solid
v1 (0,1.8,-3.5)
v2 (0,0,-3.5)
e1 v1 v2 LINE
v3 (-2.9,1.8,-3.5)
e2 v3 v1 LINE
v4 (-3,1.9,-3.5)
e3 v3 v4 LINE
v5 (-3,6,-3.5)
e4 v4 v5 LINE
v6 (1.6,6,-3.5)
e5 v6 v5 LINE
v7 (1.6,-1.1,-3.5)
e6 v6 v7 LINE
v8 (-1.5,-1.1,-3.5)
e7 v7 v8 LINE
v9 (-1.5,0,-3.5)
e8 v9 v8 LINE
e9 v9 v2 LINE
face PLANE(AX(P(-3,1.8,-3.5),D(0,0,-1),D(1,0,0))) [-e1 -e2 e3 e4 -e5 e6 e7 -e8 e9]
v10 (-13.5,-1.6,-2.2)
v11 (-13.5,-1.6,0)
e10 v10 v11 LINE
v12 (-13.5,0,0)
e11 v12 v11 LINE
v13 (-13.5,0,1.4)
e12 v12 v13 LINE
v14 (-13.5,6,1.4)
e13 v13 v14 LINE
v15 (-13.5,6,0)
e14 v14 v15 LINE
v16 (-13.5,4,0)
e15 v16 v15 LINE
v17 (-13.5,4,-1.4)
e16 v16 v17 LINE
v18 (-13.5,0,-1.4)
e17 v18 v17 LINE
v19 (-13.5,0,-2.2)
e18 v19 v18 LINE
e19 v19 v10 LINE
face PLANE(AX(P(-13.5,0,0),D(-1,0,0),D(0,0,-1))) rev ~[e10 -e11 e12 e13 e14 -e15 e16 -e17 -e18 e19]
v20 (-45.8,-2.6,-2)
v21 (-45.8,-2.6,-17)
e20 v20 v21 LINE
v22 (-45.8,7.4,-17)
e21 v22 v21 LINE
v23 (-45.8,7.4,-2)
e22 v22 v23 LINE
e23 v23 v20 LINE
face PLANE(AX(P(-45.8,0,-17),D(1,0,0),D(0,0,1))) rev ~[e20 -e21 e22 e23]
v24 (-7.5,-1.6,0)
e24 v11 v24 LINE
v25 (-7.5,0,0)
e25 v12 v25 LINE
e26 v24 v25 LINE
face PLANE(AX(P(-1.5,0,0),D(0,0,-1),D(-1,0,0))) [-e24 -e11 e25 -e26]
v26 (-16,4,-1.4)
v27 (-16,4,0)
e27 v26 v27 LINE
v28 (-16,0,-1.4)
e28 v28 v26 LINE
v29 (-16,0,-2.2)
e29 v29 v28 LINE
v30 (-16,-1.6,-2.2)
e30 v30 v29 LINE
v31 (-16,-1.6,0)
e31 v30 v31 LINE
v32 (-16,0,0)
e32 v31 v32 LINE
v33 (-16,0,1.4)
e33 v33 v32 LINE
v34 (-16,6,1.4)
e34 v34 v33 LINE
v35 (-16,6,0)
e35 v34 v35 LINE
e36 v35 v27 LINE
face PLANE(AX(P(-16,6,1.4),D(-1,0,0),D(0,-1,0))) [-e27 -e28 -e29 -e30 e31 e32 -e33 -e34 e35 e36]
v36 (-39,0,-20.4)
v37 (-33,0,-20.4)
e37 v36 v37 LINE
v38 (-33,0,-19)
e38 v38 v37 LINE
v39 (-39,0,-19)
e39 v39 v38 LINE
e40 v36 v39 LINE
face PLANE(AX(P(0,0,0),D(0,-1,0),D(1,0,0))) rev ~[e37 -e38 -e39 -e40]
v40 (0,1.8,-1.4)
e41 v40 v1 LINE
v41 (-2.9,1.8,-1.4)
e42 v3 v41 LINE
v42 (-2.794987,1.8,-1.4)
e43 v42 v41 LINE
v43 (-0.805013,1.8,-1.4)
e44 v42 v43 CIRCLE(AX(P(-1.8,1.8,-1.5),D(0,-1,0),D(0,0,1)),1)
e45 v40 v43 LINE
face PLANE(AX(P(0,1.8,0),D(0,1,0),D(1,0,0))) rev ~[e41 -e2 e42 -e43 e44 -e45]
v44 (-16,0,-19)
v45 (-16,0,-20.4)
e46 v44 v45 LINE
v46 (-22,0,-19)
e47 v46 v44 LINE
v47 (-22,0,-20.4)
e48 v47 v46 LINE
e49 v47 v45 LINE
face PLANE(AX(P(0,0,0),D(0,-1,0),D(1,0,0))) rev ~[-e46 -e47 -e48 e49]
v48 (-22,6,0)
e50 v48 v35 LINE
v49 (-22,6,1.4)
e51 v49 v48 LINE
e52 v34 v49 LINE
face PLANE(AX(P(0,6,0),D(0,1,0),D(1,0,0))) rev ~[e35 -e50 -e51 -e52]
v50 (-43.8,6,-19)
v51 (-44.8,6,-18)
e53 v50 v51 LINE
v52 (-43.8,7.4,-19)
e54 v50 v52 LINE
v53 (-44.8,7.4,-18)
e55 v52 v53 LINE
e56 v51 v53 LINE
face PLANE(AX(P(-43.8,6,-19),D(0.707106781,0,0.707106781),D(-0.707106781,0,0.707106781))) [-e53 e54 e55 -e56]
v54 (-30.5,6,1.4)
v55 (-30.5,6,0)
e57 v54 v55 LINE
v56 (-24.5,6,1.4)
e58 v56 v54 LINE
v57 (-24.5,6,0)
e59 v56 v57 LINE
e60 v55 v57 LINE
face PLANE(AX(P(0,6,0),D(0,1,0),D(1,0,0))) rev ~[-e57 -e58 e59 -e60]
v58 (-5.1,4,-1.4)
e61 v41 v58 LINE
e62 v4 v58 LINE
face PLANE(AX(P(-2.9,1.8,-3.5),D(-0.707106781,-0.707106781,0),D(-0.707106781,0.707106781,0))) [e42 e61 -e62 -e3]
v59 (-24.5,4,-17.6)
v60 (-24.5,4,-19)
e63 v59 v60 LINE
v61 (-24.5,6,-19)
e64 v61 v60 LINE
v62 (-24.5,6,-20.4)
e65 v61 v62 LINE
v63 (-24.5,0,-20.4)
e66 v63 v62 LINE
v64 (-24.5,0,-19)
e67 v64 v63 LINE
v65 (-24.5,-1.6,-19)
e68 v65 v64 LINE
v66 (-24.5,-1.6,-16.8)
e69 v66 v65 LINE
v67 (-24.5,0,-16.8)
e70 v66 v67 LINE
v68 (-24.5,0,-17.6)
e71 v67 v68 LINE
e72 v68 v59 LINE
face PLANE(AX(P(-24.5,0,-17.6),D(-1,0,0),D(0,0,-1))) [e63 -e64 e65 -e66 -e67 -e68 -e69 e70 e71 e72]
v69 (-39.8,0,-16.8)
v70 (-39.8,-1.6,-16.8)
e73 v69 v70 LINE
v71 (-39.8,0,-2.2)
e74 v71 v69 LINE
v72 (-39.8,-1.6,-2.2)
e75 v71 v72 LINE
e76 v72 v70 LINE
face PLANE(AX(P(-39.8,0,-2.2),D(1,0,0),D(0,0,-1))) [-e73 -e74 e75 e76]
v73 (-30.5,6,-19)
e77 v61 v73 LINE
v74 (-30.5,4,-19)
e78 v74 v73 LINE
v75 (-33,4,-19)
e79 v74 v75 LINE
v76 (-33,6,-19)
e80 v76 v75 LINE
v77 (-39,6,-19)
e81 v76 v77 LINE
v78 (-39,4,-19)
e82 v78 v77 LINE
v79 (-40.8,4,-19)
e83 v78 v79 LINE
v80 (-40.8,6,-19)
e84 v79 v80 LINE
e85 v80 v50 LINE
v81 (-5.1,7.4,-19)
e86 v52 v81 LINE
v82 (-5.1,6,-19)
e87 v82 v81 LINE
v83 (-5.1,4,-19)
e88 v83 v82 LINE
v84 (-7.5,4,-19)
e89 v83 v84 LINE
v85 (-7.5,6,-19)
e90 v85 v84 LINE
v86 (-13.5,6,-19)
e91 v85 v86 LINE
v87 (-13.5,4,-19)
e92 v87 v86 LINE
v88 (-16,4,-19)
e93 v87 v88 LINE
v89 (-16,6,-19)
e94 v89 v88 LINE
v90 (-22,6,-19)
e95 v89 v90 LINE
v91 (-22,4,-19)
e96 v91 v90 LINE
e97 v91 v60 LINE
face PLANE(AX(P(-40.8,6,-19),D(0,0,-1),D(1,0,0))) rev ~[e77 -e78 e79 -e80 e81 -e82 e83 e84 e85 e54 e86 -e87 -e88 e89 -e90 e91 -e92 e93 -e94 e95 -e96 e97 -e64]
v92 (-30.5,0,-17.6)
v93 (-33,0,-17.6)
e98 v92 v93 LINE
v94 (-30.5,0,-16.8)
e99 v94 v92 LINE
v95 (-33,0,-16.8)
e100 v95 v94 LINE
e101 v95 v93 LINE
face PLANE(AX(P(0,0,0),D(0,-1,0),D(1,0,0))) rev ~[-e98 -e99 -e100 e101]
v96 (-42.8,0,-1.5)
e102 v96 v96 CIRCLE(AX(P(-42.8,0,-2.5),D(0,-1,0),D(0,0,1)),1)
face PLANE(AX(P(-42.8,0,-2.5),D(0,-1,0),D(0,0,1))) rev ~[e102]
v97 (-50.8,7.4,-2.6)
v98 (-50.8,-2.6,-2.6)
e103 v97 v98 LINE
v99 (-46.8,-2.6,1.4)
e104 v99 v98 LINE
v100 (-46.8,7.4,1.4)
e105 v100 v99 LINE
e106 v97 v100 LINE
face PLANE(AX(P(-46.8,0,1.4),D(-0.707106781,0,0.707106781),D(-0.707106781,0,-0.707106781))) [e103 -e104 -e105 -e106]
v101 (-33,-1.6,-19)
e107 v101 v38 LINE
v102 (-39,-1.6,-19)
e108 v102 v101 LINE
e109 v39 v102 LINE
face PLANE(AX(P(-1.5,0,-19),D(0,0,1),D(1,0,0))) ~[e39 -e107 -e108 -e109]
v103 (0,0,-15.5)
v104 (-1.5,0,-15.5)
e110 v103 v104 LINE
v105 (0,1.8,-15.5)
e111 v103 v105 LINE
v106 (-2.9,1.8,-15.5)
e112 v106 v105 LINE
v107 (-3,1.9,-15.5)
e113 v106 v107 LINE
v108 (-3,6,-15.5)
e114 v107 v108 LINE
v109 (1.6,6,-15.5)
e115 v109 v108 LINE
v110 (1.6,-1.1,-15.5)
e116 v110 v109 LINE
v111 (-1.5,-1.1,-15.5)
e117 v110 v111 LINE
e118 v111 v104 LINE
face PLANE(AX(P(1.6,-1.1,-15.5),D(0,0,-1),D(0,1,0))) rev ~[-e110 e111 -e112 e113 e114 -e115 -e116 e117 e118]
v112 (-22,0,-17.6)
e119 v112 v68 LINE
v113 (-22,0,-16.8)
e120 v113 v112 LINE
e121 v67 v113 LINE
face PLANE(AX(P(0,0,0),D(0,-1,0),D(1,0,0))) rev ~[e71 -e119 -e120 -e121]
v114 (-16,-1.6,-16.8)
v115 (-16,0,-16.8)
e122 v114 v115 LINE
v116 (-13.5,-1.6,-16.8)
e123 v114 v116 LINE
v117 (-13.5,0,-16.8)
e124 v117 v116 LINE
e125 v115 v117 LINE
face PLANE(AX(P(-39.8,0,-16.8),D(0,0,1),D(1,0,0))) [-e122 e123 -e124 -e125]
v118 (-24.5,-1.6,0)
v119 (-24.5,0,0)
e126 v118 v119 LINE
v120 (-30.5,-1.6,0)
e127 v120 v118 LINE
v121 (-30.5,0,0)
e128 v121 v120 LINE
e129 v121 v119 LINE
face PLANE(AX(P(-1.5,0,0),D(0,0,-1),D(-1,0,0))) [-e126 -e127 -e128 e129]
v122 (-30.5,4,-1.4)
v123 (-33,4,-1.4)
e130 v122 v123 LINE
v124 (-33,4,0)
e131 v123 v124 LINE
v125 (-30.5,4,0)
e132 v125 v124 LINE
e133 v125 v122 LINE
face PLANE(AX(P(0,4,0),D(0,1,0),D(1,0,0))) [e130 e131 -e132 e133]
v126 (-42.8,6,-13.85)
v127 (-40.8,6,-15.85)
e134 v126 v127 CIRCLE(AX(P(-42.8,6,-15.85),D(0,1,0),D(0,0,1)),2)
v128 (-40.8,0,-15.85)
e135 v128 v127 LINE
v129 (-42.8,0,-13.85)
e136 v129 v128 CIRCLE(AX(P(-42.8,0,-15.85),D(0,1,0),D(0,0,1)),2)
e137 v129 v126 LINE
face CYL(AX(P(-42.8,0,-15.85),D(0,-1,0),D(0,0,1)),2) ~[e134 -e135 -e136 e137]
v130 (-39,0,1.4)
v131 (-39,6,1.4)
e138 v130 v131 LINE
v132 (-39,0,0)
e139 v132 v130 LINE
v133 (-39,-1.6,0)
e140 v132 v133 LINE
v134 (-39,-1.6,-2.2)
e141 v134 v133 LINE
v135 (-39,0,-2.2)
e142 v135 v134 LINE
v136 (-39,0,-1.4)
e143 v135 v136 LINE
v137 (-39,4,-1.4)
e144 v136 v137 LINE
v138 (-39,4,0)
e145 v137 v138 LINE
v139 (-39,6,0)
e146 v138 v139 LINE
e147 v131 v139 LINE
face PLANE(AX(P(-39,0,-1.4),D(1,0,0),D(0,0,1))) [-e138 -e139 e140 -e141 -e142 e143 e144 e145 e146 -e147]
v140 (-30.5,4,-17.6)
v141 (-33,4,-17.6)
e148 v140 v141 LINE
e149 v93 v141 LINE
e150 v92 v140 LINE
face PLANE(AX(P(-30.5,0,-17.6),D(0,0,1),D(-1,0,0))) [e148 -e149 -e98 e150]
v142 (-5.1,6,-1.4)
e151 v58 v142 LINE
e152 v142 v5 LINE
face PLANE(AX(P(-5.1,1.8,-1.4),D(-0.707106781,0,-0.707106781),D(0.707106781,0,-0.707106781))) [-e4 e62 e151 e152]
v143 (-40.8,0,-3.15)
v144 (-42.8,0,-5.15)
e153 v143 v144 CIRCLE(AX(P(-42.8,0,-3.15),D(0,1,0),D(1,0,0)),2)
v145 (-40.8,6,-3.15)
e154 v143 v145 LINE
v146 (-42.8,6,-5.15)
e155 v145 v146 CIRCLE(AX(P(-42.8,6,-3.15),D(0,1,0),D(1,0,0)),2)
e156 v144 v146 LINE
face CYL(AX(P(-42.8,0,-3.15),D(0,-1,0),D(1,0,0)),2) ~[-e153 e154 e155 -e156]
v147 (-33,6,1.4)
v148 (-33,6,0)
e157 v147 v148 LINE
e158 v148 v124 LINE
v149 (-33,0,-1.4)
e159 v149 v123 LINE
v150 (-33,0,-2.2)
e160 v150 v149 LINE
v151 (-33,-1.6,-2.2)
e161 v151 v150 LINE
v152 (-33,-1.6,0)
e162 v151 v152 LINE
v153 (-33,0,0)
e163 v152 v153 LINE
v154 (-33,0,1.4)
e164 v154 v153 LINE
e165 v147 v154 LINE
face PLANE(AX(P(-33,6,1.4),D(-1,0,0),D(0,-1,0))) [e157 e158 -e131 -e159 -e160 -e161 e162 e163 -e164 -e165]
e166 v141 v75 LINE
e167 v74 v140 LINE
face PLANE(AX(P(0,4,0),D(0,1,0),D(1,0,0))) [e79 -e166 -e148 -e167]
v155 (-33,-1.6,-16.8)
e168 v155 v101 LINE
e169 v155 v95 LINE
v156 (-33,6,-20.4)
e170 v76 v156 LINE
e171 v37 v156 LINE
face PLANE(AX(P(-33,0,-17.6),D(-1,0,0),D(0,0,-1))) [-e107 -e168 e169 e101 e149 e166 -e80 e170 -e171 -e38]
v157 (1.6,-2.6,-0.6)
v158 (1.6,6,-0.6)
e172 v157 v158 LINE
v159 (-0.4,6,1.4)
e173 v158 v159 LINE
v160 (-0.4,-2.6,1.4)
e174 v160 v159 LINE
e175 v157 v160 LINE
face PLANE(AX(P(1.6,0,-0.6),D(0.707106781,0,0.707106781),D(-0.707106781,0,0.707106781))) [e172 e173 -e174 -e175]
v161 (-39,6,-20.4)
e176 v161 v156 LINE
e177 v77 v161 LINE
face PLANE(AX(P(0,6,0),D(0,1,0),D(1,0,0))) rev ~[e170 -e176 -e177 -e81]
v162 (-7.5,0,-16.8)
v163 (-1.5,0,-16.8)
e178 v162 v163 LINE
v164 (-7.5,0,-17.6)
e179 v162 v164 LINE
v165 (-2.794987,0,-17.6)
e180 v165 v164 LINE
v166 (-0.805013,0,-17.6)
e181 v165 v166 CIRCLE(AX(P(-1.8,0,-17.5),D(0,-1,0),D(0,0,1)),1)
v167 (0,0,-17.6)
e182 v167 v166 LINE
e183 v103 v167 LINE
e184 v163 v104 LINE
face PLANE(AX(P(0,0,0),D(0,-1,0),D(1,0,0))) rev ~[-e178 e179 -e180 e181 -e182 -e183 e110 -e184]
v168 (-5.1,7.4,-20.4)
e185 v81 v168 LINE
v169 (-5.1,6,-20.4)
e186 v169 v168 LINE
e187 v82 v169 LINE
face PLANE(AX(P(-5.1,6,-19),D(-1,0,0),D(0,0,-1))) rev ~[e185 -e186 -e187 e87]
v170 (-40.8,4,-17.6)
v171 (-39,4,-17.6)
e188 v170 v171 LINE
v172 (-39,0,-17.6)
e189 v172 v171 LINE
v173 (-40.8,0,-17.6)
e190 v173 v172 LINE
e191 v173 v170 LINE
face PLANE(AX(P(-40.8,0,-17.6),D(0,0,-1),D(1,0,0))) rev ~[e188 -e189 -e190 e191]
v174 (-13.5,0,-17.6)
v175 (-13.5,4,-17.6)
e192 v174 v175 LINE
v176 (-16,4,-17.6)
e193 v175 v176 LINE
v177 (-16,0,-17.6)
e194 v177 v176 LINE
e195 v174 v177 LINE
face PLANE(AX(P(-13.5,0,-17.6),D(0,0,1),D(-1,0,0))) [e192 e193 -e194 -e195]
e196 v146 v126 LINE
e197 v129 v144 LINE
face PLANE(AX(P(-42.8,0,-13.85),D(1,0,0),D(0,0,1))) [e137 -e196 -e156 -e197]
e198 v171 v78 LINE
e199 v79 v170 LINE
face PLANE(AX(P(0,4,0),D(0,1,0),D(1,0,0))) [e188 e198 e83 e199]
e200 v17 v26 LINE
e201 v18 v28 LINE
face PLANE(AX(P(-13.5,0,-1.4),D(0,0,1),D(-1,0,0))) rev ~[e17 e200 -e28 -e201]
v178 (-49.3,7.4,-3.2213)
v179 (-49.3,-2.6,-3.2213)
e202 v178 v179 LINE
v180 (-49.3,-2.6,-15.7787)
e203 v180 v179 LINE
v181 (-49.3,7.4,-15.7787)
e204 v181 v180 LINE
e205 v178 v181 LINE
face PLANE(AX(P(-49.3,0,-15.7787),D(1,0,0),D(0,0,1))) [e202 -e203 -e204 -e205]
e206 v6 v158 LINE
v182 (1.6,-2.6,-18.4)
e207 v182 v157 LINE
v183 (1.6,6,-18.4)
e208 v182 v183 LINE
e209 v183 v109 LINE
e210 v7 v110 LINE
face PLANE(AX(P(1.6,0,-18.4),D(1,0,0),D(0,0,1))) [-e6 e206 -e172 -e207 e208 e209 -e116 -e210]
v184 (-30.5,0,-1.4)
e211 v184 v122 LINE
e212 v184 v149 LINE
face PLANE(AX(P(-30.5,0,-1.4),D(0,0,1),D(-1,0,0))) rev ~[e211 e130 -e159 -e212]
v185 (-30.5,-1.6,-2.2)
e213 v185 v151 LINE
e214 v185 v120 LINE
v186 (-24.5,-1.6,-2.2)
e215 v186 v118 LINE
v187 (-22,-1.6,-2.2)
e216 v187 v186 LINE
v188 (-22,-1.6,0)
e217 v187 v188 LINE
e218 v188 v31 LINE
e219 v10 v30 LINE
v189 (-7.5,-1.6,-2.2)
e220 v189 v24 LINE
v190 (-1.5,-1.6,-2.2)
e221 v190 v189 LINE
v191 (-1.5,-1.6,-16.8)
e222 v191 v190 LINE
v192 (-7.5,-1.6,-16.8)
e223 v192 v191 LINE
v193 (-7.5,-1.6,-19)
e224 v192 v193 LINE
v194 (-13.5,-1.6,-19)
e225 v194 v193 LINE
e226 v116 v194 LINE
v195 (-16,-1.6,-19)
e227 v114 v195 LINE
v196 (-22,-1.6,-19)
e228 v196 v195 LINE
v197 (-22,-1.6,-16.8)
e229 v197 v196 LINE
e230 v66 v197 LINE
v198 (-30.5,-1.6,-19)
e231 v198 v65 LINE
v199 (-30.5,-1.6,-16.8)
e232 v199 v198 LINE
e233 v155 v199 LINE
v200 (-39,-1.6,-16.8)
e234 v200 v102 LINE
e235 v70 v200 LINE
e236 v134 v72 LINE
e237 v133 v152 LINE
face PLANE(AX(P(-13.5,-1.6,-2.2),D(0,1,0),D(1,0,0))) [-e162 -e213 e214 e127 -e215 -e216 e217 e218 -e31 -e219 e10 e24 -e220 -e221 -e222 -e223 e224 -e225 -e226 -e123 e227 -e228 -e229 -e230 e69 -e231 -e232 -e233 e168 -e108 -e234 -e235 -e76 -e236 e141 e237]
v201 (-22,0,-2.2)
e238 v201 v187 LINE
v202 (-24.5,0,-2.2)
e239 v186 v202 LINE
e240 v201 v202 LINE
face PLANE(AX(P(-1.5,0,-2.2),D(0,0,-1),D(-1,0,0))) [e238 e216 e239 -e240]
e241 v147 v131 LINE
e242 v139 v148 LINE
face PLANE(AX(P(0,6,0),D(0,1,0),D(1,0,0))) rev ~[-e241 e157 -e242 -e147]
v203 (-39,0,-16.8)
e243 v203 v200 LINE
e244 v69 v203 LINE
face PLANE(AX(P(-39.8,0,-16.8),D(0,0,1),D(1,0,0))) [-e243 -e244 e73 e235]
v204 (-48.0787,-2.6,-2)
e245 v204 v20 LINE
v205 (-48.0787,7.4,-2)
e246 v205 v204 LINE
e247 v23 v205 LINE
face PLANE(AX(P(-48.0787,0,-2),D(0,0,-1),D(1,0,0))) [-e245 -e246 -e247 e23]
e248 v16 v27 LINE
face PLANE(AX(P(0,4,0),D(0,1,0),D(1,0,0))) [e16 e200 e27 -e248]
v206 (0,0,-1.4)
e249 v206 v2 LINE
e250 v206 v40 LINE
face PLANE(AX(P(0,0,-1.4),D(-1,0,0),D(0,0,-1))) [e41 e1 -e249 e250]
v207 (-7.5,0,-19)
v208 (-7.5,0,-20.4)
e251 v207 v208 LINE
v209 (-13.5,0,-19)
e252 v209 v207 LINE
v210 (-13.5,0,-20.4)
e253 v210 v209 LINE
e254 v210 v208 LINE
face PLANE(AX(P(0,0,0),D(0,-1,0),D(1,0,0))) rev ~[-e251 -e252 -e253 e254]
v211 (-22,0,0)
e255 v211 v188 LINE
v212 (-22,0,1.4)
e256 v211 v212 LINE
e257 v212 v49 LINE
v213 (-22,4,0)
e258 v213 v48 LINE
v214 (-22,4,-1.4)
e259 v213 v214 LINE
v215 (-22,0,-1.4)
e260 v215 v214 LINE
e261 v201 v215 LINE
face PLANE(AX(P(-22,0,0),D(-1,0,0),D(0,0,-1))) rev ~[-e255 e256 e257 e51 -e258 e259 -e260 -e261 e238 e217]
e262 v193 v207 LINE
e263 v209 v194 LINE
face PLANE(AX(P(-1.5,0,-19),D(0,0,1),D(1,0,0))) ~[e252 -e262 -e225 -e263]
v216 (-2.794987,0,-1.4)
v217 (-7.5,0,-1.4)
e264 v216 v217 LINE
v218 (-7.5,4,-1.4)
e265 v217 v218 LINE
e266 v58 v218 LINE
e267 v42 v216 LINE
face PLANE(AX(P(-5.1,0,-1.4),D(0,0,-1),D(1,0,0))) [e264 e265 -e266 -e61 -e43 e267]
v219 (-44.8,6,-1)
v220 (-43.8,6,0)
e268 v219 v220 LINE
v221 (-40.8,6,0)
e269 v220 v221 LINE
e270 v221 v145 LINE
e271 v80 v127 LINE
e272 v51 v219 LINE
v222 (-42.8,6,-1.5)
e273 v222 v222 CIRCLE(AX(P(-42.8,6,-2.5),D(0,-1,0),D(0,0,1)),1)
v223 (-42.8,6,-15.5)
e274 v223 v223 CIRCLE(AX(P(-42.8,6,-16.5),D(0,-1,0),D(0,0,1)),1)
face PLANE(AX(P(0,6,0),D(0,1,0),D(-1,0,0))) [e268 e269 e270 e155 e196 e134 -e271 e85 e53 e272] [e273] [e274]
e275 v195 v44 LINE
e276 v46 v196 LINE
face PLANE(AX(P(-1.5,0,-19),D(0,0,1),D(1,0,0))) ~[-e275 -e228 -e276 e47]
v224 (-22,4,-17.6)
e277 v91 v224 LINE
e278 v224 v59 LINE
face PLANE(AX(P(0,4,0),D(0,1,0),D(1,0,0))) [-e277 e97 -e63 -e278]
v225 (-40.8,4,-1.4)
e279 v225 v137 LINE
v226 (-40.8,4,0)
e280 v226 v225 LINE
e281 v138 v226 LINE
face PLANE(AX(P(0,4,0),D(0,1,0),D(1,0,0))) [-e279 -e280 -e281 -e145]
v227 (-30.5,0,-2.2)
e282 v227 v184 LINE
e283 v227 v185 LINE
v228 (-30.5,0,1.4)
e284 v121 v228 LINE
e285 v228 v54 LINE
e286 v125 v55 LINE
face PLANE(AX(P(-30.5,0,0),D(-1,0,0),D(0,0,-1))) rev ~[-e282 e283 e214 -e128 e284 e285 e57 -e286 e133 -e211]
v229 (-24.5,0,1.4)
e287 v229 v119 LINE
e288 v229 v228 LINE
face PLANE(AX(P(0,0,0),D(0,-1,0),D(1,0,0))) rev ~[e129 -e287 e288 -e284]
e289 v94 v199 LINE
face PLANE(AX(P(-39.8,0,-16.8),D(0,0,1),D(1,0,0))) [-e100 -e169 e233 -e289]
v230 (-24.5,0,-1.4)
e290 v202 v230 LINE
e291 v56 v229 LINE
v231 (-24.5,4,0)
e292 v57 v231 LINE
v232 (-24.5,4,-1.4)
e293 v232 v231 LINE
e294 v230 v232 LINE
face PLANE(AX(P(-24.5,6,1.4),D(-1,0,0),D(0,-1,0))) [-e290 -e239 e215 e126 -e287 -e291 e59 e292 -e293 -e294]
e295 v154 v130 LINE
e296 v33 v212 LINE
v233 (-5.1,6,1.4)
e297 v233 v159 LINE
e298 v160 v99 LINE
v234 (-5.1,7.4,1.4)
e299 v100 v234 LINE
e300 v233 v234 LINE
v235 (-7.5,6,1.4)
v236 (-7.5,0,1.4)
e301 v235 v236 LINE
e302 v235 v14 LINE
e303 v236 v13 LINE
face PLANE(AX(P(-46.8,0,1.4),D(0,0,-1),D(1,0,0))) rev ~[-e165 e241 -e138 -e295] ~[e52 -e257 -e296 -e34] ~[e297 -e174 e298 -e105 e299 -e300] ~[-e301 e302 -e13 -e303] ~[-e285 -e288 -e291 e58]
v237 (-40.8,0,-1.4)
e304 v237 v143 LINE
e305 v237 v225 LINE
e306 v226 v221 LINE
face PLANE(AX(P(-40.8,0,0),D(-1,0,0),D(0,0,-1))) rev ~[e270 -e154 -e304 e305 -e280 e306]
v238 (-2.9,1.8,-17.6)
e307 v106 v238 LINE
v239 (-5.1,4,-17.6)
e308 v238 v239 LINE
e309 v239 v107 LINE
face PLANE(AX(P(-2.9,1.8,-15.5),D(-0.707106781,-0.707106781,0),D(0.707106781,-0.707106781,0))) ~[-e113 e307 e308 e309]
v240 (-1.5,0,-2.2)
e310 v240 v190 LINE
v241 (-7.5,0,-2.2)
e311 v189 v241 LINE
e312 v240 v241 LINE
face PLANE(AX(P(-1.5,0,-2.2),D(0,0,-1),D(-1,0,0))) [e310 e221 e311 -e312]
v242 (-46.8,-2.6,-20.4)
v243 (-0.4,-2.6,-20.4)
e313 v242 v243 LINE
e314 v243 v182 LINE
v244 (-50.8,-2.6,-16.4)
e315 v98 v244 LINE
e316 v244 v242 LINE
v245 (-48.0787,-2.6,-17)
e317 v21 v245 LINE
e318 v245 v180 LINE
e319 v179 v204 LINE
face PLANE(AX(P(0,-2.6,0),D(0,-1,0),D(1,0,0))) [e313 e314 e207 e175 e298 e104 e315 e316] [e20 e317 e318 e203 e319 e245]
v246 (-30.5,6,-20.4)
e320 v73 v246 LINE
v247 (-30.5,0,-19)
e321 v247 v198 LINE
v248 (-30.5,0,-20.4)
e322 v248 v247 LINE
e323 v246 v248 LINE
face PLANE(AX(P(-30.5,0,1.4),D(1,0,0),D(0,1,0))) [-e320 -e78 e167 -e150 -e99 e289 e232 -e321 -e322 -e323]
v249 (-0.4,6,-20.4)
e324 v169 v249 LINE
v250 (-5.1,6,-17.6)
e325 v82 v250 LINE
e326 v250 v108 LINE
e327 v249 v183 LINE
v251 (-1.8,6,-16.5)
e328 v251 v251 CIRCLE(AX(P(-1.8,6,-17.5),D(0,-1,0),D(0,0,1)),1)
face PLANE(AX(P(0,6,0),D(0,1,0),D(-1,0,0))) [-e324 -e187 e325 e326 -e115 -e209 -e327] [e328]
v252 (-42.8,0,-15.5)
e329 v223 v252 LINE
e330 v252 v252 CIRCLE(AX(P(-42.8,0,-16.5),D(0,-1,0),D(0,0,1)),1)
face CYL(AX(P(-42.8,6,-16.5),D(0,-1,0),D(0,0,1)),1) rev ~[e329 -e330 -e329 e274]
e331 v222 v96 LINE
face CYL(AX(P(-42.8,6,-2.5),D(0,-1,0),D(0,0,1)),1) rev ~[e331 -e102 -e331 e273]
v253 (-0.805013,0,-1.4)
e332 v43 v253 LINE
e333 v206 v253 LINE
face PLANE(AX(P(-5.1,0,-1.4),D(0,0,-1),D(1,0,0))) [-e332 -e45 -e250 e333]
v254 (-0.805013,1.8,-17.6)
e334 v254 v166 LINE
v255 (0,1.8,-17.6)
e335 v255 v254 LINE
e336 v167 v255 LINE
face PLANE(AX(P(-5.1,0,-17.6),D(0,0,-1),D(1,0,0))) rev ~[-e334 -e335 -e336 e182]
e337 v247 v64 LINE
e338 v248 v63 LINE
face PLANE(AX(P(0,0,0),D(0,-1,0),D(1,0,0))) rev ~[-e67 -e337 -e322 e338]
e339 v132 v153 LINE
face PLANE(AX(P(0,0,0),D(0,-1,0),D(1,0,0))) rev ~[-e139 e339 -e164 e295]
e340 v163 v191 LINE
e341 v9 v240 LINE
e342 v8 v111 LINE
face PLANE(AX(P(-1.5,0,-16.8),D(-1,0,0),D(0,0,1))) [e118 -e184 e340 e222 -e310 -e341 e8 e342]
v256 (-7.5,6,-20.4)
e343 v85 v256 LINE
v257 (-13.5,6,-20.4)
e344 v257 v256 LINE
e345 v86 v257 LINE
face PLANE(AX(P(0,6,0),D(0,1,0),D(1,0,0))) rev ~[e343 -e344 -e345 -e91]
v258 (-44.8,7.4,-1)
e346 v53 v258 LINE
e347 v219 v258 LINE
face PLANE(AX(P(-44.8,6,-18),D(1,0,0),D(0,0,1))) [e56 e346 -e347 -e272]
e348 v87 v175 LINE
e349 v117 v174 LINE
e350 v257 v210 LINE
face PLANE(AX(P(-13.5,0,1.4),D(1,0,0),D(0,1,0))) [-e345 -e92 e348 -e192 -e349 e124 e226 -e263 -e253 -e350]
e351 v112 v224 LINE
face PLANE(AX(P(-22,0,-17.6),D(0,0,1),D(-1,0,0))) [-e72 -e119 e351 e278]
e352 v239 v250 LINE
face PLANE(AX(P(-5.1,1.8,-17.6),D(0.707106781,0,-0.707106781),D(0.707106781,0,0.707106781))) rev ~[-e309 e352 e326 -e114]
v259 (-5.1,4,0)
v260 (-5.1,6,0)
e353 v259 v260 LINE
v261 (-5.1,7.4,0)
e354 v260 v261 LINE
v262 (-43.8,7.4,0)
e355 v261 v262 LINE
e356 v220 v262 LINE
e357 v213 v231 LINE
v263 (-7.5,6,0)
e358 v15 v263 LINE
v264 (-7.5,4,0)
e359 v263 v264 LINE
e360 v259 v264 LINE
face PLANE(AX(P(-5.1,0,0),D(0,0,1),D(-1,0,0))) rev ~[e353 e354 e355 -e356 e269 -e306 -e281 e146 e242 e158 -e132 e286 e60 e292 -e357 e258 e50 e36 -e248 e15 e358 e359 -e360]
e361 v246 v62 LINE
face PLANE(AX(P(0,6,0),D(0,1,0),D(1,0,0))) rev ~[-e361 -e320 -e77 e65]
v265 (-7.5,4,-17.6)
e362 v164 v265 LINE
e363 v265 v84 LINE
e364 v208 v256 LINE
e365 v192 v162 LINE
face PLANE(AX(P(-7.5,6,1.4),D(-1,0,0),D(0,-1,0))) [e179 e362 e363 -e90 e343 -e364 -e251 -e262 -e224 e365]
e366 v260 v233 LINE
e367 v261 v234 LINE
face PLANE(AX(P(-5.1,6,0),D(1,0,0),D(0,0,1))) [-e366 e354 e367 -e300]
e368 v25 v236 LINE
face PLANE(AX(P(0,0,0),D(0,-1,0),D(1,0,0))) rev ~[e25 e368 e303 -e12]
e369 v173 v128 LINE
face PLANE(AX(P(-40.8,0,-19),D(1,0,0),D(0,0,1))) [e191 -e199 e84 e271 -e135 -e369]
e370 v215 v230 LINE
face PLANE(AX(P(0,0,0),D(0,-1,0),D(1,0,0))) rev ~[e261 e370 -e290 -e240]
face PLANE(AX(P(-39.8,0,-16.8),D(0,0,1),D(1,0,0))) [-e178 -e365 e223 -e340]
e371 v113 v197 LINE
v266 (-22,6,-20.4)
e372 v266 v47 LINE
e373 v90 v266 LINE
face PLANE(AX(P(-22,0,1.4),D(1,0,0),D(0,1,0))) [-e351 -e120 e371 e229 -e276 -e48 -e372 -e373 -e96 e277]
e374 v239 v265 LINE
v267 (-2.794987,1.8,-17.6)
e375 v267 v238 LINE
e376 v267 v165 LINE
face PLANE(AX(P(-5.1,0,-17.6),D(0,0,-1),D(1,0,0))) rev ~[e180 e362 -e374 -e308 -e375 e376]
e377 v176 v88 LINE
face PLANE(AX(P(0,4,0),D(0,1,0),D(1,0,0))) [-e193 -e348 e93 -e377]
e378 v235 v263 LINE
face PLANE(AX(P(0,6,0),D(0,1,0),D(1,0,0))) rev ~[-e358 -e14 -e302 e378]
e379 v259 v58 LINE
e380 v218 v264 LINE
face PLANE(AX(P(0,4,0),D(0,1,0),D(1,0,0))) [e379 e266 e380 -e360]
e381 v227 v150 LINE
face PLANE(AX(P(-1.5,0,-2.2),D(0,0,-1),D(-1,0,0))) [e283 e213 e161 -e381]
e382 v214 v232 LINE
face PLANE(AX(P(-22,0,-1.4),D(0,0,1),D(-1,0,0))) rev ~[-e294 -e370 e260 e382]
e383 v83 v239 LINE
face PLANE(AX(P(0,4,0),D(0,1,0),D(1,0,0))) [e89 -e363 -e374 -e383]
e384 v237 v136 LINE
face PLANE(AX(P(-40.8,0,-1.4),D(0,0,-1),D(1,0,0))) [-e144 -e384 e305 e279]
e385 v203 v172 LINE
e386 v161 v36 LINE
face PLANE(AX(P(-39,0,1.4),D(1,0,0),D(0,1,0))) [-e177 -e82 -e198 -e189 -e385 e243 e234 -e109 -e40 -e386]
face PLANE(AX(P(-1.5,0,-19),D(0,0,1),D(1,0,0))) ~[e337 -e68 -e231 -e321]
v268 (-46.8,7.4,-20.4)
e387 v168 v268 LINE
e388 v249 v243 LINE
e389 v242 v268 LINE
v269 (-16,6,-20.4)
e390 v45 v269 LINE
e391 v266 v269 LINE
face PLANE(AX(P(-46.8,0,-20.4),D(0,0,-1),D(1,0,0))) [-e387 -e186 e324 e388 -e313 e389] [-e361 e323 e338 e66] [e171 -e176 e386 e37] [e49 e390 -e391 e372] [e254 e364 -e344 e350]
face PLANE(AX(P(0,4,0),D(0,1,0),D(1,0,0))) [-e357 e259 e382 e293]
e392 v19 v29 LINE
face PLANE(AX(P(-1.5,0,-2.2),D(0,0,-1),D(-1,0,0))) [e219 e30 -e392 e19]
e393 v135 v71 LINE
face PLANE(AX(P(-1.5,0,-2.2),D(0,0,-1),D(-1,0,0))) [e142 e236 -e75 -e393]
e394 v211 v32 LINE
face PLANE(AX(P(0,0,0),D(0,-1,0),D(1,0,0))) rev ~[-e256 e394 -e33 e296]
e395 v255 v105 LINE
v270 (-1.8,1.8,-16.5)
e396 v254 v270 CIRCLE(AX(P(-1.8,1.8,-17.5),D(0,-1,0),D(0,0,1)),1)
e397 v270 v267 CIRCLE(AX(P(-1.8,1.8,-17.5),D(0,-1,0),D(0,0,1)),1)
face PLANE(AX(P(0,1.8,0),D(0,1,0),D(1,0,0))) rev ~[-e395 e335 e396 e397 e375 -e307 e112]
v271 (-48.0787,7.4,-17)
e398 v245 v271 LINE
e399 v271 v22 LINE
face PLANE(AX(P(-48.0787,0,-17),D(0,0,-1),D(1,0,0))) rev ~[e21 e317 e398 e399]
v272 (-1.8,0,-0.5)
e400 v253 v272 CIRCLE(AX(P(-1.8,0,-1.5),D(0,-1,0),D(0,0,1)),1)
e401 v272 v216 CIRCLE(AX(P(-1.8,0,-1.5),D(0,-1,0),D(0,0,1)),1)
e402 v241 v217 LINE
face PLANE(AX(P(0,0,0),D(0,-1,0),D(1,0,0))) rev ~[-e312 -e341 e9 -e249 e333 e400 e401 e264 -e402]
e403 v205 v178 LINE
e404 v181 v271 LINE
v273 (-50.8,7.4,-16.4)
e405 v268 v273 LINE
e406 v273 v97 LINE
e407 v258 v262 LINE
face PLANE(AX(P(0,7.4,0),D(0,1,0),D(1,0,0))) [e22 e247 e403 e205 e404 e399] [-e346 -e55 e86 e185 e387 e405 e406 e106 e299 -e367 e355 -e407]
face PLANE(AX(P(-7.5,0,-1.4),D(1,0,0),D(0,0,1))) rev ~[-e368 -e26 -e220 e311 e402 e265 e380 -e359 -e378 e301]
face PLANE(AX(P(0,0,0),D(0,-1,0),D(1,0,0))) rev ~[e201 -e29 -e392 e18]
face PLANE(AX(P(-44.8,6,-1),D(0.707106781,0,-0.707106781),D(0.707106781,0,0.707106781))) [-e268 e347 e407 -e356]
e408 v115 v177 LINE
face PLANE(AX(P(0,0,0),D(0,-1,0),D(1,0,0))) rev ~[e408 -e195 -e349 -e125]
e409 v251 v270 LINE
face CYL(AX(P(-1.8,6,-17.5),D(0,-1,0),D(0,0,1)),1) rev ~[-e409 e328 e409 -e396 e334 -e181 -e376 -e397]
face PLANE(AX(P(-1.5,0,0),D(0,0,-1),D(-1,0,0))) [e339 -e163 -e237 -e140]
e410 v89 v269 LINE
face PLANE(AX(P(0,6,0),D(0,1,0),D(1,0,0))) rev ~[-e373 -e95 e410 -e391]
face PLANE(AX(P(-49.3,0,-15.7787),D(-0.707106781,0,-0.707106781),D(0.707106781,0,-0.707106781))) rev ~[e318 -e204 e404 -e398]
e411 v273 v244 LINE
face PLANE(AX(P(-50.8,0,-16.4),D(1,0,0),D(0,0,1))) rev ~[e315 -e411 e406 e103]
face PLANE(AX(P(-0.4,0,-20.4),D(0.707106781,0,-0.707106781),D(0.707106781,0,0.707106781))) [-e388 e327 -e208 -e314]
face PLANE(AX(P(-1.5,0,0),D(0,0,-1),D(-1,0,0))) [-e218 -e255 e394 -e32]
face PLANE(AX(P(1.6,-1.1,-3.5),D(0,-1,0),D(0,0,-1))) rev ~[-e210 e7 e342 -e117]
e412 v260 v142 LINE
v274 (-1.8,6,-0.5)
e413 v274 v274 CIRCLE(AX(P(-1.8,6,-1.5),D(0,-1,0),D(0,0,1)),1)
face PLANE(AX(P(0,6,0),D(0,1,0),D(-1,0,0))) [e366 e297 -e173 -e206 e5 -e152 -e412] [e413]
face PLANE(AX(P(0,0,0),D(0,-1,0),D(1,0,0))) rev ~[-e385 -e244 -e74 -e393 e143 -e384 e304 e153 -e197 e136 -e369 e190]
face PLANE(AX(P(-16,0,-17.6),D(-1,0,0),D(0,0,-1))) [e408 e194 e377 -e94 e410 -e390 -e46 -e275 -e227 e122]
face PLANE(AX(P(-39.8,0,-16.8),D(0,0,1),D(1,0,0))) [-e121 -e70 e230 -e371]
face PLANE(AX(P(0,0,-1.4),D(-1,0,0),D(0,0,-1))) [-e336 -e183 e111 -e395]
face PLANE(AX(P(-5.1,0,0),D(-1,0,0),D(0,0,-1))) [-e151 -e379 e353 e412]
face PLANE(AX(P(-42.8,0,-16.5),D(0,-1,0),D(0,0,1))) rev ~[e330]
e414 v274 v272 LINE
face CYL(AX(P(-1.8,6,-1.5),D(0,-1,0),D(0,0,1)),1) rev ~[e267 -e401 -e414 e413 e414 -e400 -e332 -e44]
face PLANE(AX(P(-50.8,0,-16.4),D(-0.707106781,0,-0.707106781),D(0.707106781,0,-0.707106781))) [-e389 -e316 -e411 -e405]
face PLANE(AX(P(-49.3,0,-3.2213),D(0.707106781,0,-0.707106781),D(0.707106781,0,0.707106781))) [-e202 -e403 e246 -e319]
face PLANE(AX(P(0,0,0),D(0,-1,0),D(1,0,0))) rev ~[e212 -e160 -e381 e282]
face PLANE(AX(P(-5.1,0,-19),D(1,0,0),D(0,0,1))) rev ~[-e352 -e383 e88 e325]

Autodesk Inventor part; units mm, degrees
ref_plane "YZ Plane" through (0, 0, 0) normal (1, 0, 0) x (0, 1, 0)
ref_plane "XZ Plane" through (0, 0, 0) normal (0, 1, 0) x (-1, 0, 0)
sketch "Эскиз1" plane through (0, 0, 0) normal (0, 1, 0) x (-1, 0, 0)
  line L0 (0, 0) -> (0, -19)
  line L1 (0, -19) -> (40.8, -19)
  line L2 (40.8, -19) -> (40.8, -15.85)
  arc A0 (42.8, -13.85) -> (40.8, -15.85) centre (42.8, -15.85) ccw
  line L3 (42.8, -15.85) -> (42.8, -13.85) construction
  line L4 (42.8, -15.85) -> (40.8, -15.85) construction
  line L5 (42.8, -13.85) -> (42.8, -5.15)
  line L6 (42.8, -9.5) -> (0, -9.5)
  line L7 (0, 0) -> (40.8, 0)
  line L8 (40.8, 0) -> (40.8, -3.15)
  arc A1 (40.8, -3.15) -> (42.8, -5.15) centre (42.8, -3.15) ccw
  line L9 (42.8, -3.15) -> (42.8, -5.15) construction
  line L10 (42.8, -3.15) -> (40.8, -3.15) construction
  line L11 (46.8, -20.4) -> (0.4, -20.4)
  line L12 (46.8, 1.4) -> (0.4, 1.4)
  line L13 (50.8, -16.4) -> (50.8, -2.6)
  line L14 (45.8, -17) -> (45.8, -2)
  line L15 (49.3, -15.7787) -> (49.3, -3.2213)
  line L16 (5.1, -19) -> (5.1, -17.6)
  line L17 (5.1, -17.6) -> (0, -17.6)
  line L18 (5.1, 0) -> (5.1, -1.4)
  line L19 (5.1, -1.4) -> (0, -1.4)
  line L20 (0.4, -20.4) -> (-1.6, -18.4)
  line L21 (-1.6, -18.4) -> (-1.6, -0.6)
  line L22 (-1.6, -0.6) -> (0.4, 1.4)
  line L23 (46.8, 1.4) -> (50.8, -2.6)
  line L24 (50.8, -16.4) -> (46.8, -20.4)
  line L25 (49.3, -15.7787) -> (48.0787, -17)
  line L26 (48.0787, -17) -> (45.8, -17)
  line L27 (49.3, -3.2213) -> (48.0787, -2)
  line L28 (48.0787, -2) -> (45.8, -2)
  point P0 (5.1, 0)
  point P1 (0, -1.4)
  point P2 (45.8, -9.5)
  point P3 (49.3, -9.5)
  point P4 (50.8, -9.5)
  dimension "d1" = 42.8
  dimension "d3" = 2
  dimension "d4" = 12.7
  dimension "d8" = 19
  dimension "d12" = 3.5
  dimension "d32" = 21.8
  dimension "d34" = 5.1
  dimension "d35" = 16.2
  dimension "d41" = 135
  dimension "d42" = 1.6
  dimension "d43" = 2
  dimension "d65" = 8
  dimension "d66" = 1.5
  dimension "d67" = 15
  dimension "d68" = 1.5
  dimension "d69" = 4
extrude "Выдавливание1" add sketch "Эскиз1" along normal blind 6 contours L7 L18 L19 L0 | L17 L16 L1 L0 | L11 L20 L21 L22 L12 L23 L13 L24
sketch "Эскиз2" plane through (0, 0, 0) normal (0, -1, 0) x (1, 0, 0)
  line L0 (-0.4, -20.4) -> (-46.8, -20.4) projected
  line L1 (-46.8, 1.4) -> (-0.4, 1.4) projected
  line L2 (-50.8, -16.4) -> (-50.8, -2.6) projected
  line L3 (-42.8, -5.15) -> (-42.8, -13.85) projected
  arc A0 (-42.8, -5.15) -> (-40.8, -3.15) centre (-42.8, -3.15) ccw projected
  line L4 (-40.8, 0) -> (-40.8, -3.15) projected
  line L5 (-5.1, 0) -> (-40.8, 0) projected
  line L6 (0, -17.6) -> (0, -1.4) projected
  line L7 (-40.8, -19) -> (-5.1, -19) projected
  line L8 (-40.8, -15.85) -> (-40.8, -19) projected
  arc A1 (-40.8, -15.85) -> (-42.8, -13.85) centre (-42.8, -15.85) ccw projected
  line L9 (-40.8, -15.85) -> (-40.8, -19) projected
  line L10 (-40.8, -19) -> (-5.1, -19) projected
  line L11 (-39.8, -16.8) -> (-1.5, -16.8)
  line L12 (-1.5, -16.8) -> (-1.5, -2.2)
  line L13 (-1.5, -2.2) -> (-39.8, -2.2)
  line L14 (-39.8, -2.2) -> (-39.8, -16.8)
  line L15 (-5.1, -1.4) -> (-5.1, 0) projected
  line L16 (0, -1.4) -> (-5.1, -1.4) projected
  line L17 (-5.1, -17.6) -> (0, -17.6) projected
  line L18 (-5.1, -19) -> (-5.1, -17.6) projected
  line L19 (1.6, -18.4) -> (-0.4, -20.4) projected
  line L20 (1.6, -0.6) -> (1.6, -18.4) projected
  line L21 (-0.4, 1.4) -> (1.6, -0.6) projected
  line L22 (-50.8, -2.6) -> (-46.8, 1.4) projected
  line L23 (-46.8, -20.4) -> (-50.8, -16.4) projected
  line L24 (-49.3, -3.2213) -> (-49.3, -15.7787) projected
  line L25 (-48.0787, -2) -> (-49.3, -3.2213) projected
  line L26 (-45.8, -2) -> (-48.0787, -2) projected
  line L27 (-45.8, -17) -> (-45.8, -2) projected
  line L28 (-48.0787, -17) -> (-45.8, -17) projected
  line L29 (-49.3, -15.7787) -> (-48.0787, -17) projected
  point P0 (0, -18.2)
  point P1 (-42.8, -9.5)
  point P2 (-39.8, -9.5)
  dimension "d17" = 1.5
  dimension "d18" = 3
  dimension "d33" = 14.6
extrude "Выдавливание2" add sketch "Эскиз2" along normal blind 1.6 contours L0 L23 L2 L22 L1 L21 L20 L19 | A0 L4 L5 L15 L16 L6 L17 L18 L7 L8 A1 L3
sketch "Эскиз3" plane through (0, -1.6, 0) normal (0, -1, 0) x (1, 0, 0)
  line L0 (-0.4, 1.4) -> (-46.8, 1.4) projected
  line L1 (-50.8, -2.6) -> (-50.8, -16.4) projected
  line L2 (-46.8, -20.4) -> (-0.4, -20.4) projected
  line L3 (-1.5, -2.2) -> (-1.5, -16.8) projected
  line L4 (-1.5, -16.8) -> (-39.8, -16.8) projected
  line L5 (-39.8, -16.8) -> (-39.8, -2.2) projected
  line L6 (-39.8, -2.2) -> (-1.5, -2.2) projected
  line L7 (-0.4, -20.4) -> (1.6, -18.4) projected
  line L8 (1.6, -18.4) -> (1.6, -0.6) projected
  line L9 (1.6, -0.6) -> (-0.4, 1.4) projected
  line L10 (-46.8, 1.4) -> (-50.8, -2.6) projected
  line L11 (-50.8, -16.4) -> (-46.8, -20.4) projected
  line L12 (-49.3, -15.7787) -> (-49.3, -3.2213) projected
  line L13 (-49.3, -3.2213) -> (-48.0787, -2) projected
  line L14 (-48.0787, -2) -> (-45.8, -2) projected
  line L15 (-45.8, -2) -> (-45.8, -17) projected
  line L16 (-45.8, -17) -> (-48.0787, -17) projected
  line L17 (-48.0787, -17) -> (-49.3, -15.7787) projected
  point P0 (0, 0)
extrude "Выдавливание3" add sketch "Эскиз3" along normal blind 1 contours L9 L8 L7 L2 L11 L1 L10 L0 | L3 L4 L5 L6
sketch "Эскиз5" plane through (-46.8, 6, 1.4) normal (0, 0, 1) x (1, 0, 0)
  line L0 (7.8, 0) -> (13.8, 0)
  line L1 (13.8, 0) -> (13.8, -6)
  line L2 (13.8, -6) -> (7.8, -6)
  line L3 (7.8, -6) -> (7.8, 0)
  line L4 (0, 0) -> (46.4, 0) projected
  line L5 (4, -6) -> (4, 0) projected
  point P0 (46.8, -6)
  point P1 (46.5, 0)
  dimension "d27" = 6
  dimension "d28" = 6
  dimension "d29" = 3.8
extrude "Выдавливание5" cut sketch "Эскиз5" against normal through all
pattern_linear "Прямоуг.массив1" count 4 spacing 8.5 along (1, 0, 0) of "Выдавливание5"
sketch "Эскиз6" plane through (0, 0, 0) normal (0, 1, 0) x (1, 0, 0)
  line L0 (-5.1, 0) -> (-40.8, 0) projected
  line L1 (-16, 0) -> (-13.5, 0)
  line L2 (-13.5, 0) -> (-13.5, 1.4)
  line L3 (-13.5, 1.4) -> (-16, 1.4)
  line L4 (-16, 1.4) -> (-16, 0)
  line L5 (-24.5, 0) -> (-22, 0)
  line L6 (-22, 0) -> (-22, 1.4)
  line L7 (-22, 1.4) -> (-24.5, 1.4)
  line L8 (-24.5, 1.4) -> (-24.5, 0)
  line L9 (-33, 0) -> (-30.5, 0)
  line L10 (-30.5, 0) -> (-30.5, 1.4)
  line L11 (-30.5, 1.4) -> (-33, 1.4)
  line L12 (-33, 1.4) -> (-33, 0)
  line L13 (-39, 0) -> (-40.8, 0)
  line L14 (-40.8, 0) -> (-40.8, 1.4)
  line L15 (-40.8, 1.4) -> (-39, 1.4)
  line L16 (-39, 1.4) -> (-39, 0)
  line L17 (-5.1, 0) -> (-7.5, 0) projected
  line L18 (-5.1, 0) -> (-7.5, 0) projected
  line L19 (-39, 0) -> (-40.8, 0) projected
  line L20 (0, 1.4) -> (-5.1, 1.4) projected
  line L21 (-7.5, 0) -> (-5.1, 0)
  line L22 (-5.1, 0) -> (-5.1, 1.4)
  line L23 (-5.1, 1.4) -> (-7.5, 1.4)
  line L24 (-7.5, 1.4) -> (-7.5, 0)
  line L25 (-42.8, 5.15) -> (-42.8, 13.85) projected
  line L26 (-42.8, 9.5) -> (-1.5, 9.5)
  line L27 (-5.1, 19) -> (-40.8, 19)
  line L28 (-16, 19) -> (-13.5, 19)
  line L29 (-13.5, 19) -> (-13.5, 17.6)
  line L30 (-13.5, 17.6) -> (-16, 17.6)
  line L31 (-16, 17.6) -> (-16, 19)
  line L32 (-24.5, 19) -> (-22, 19)
  line L33 (-22, 19) -> (-22, 17.6)
  line L34 (-22, 17.6) -> (-24.5, 17.6)
  line L35 (-24.5, 17.6) -> (-24.5, 19)
  line L36 (-33, 19) -> (-30.5, 19)
  line L37 (-30.5, 19) -> (-30.5, 17.6)
  line L38 (-30.5, 17.6) -> (-33, 17.6)
  line L39 (-33, 17.6) -> (-33, 19)
  line L40 (-39, 19) -> (-40.8, 19)
  line L41 (-40.8, 19) -> (-40.8, 17.6)
  line L42 (-40.8, 17.6) -> (-39, 17.6)
  line L43 (-39, 17.6) -> (-39, 19)
  line L44 (-5.1, 19) -> (-7.5, 19)
  line L45 (-5.1, 19) -> (-40.8, 19)
  line L46 (-39, 19) -> (-40.8, 19)
  line L47 (-39, 19) -> (-33, 19)
  line L48 (-30.5, 19) -> (-33, 19)
  line L49 (-30.5, 19) -> (-24.5, 19)
  line L50 (-22, 19) -> (-24.5, 19)
  line L51 (-22, 19) -> (-16, 19)
  line L52 (-13.5, 19) -> (-16, 19)
  line L53 (0, 17.6) -> (-5.1, 17.6)
  line L54 (-7.5, 19) -> (-5.1, 19)
  line L55 (-5.1, 19) -> (-5.1, 17.6)
  line L56 (-5.1, 17.6) -> (-7.5, 17.6)
  line L57 (-7.5, 17.6) -> (-7.5, 19)
  line L58 (-1.5, 2.2) -> (-1.5, 16.8) projected
  line L59 (-30.5, 0) -> (-33, 0) projected
  line L60 (-22, 0) -> (-24.5, 0) projected
  line L61 (-13.5, 0) -> (-16, 0) projected
  line L62 (-13.5, 0) -> (-16, 0) projected
  line L63 (-39, 0) -> (-40.8, 0) projected
  line L64 (-22, 0) -> (-24.5, 0) projected
  line L65 (-30.5, 0) -> (-33, 0) projected
  point P0 (0, 0)
  point P1 (0, 19)
  point P2 (-5.1, 19)
  point P3 (-7.1397, 18.6)
  point P4 (-22, 19)
  point P5 (-30.5, 19)
  point P6 (-7.5, 0)
  point P7 (-13.5, 0)
  point P8 (-22, 0)
  point P9 (-30.5, 0)
  point P10 (-7.5, 19)
extrude "Выдавливание6" add sketch "Эскиз6" along normal blind 4
sketch "Эскиз7" plane through (1.6, 6, -0.6) normal (1, 0, 0) x (0, 0, -1)
  line L0 (16.4, 0) -> (1.4, 0) projected
  line L1 (14.9, 0) -> (2.9, 0)
  line L2 (2.9, 0) -> (2.9, -7.1)
  line L3 (2.9, -7.1) -> (14.9, -7.1)
  line L4 (14.9, -7.1) -> (14.9, 0)
  point P0 (-0.6, -6)
  point P1 (16.5, 0)
  point P2 (-0.5, 0)
  point P3 (8.9, 0)
  point P4 (2.9, 0)
  dimension "d44" = 12
  dimension "d45" = 7.1
extrude "Выдавливание7" cut sketch "Эскиз7" against normal up to next
ref_plane "РабПлоскость1" through (0, 1.8, 0) normal (0, 1, 0) x (1, 0, 0)
sketch "Эскиз8" plane through (0, 1.8, 0) normal (0, 1, 0) x (1, 0, 0)
  line L0 (0, 17.6) -> (0, 15.5) projected
  line L1 (0, 17.6) -> (-5.1, 17.6)
  line L2 (0, 15.5) -> (0, 17.6)
  line L3 (-42.8, 5.15) -> (-42.8, 13.85) projected
  line L4 (-42.8, 9.5) -> (1.6, 9.5)
  line L5 (-5.1, 17.6) -> (-3, 15.5)
  line L6 (-3, 15.5) -> (0, 15.5)
  line L7 (0, 17.6) -> (-7.5, 17.6) projected
  line L8 (0, 1.4) -> (0, 3.5)
  line L9 (0, 1.4) -> (-5.1, 1.4)
  line L10 (0, 3.5) -> (0, 1.4)
  line L11 (-5.1, 1.4) -> (-3, 3.5)
  line L12 (-3, 3.5) -> (0, 3.5)
  line L13 (1.6, 15.5) -> (1.6, 3.5) projected
  point P0 (0, 0)
  dimension "d49" = 45
extrude "Выдавливание8" add sketch "Эскиз8" along normal up to surface (4.2 mm away)
sketch "Эскиз10" plane through (0, 6, 0) normal (0, 1, 0) x (1, 0, 0)
  line L0 (-42.8, 5.15) -> (-42.8, 13.85) projected
  line L1 (-42.8, 9.5) -> (-1.5, 9.5)
  line L2 (-1.5, 2.2) -> (-1.5, 16.8) projected
  line L3 (-45.8, 17) -> (-45.8, 2) projected
  line L4 (1.6, 15.5) -> (1.6, 18.4) projected
  point P0 (0, 0)
  point P1 (-42.8, 16.5)
  point P2 (-42.8, 2.5)
  point P3 (-1.8, 17.5)
  point P4 (-1.8, 1.5)
  point P5 (-44.8, 17.7)
  point P6 (-44.8, 0.7)
  point P7 (-45.8, 2)
  dimension "d59" = 16
  dimension "d60" = 14
  dimension "d62" = 3.4
  dimension "d76" = 41
hole "Отверстие1" at (-42.8, 6, -16.5) at (-42.8, 6, -2.5) at (-1.8, 6, -17.5) at (-1.8, 6, -1.5) direction (0, -1, 0) diameter 2 depth 6
sketch "Эскиз13" plane through (0, 6, 0) normal (0, 1, 0) x (1, 0, 0)
  circle A0 centre (-42.8, 16.5) radius 1 projected
  circle A1 centre (-42.8, 2.5) radius 1 projected
  line L0 (-48.0787, 2) -> (-49.3, 3.2213) projected
  line L1 (-49.3, 3.2213) -> (-49.3, 15.7787) projected
  line L2 (-49.3, 15.7787) -> (-48.0787, 17) projected
  line L3 (-48.0787, 17) -> (-45.8, 17) projected
  line L4 (-45.8, 17) -> (-45.8, 2) projected
  line L5 (-45.8, 2) -> (-48.0787, 2) projected
  line L6 (-50.8, 2.6) -> (-46.8, -1.4) projected
  line L7 (-46.8, -1.4) -> (-39, -1.4) projected
  line L8 (-39, -1.4) -> (-39, 0) projected
  line L9 (-39, 0) -> (-40.8, 0) projected
  line L10 (-40.8, 0) -> (-40.8, 3.15) projected
  arc A2 (-40.8, 3.15) -> (-42.8, 5.15) centre (-42.8, 3.15) ccw projected
  line L11 (-42.8, 5.15) -> (-42.8, 13.85) projected
  arc A3 (-42.8, 13.85) -> (-40.8, 15.85) centre (-42.8, 15.85) ccw projected
  line L12 (-40.8, 15.85) -> (-40.8, 19) projected
  line L13 (-40.8, 19) -> (-39, 19) projected
  line L14 (-39, 19) -> (-39, 20.4) projected
  line L15 (-39, 20.4) -> (-46.8, 20.4) projected
  line L16 (-46.8, 20.4) -> (-50.8, 16.4) projected
  line L17 (-50.8, 16.4) -> (-50.8, 2.6) projected
  line L18 (-40.8, 19) -> (-39, 19) projected
  line L19 (-5.1, 19) -> (-5.1, 17.6) projected
  line L20 (-39, 0) -> (-40.8, 0) projected
  line L21 (-39, -1.4) -> (-39, 0) projected
  line L22 (-40.8, 0) -> (-40.8, 1.4) projected
  line L23 (-40.8, 19) -> (-43.8, 19)
  line L24 (-43.8, 19) -> (-44.8, 18)
  line L25 (-44.8, 18) -> (-44.8, 1)
  line L26 (-44.8, 1) -> (-43.8, 0)
  line L27 (-43.8, 0) -> (-40.8, 0)
  line L28 (-42.8, 5.15) -> (-42.8, 13.85) projected
  line L29 (-42.8, 9.5) -> (-1.5, 9.5)
  line L30 (-1.5, 2.2) -> (-1.5, 16.8) projected
  line L31 (-40.8, 19) -> (-39, 19) projected
  line L32 (-5.1, 19) -> (-39, 19)
  line L33 (-5.1, 19) -> (-5.1, 20.4)
  line L34 (-46.8, 20.4) -> (-0.4, 20.4) projected
  line L35 (-39, 20.4) -> (-46.8, 20.4) projected
  line L36 (-5.1, 20.4) -> (-39, 20.4)
  line L37 (-5.1, 0) -> (-39, 0)
  line L38 (-39, 1.4) -> (-39, -1.4) projected
  line L39 (-5.1, 0) -> (-5.1, -1.4)
  line L40 (-0.4, -1.4) -> (-46.8, -1.4) projected
  line L41 (-5.1, -1.4) -> (-39, -1.4)
  point P0 (0, 0)
  dimension "d71" = 1
  dimension "d72" = 1
extrude "Выдавливание9" add sketch "Эскиз13" along normal blind 1.4 contours L17 L16 L15 L14 L13 L23 L24 L25 L26 L27 L9 L8 L7 L6 | L8 L37 L39 L40 | L34 L33 L32 L14
sketch "Эскиз16" plane through (1.6, -1.1, -3.5) normal (0, 0, -1) x (-1, 0, 0)
  line L0 (4.4, 2.9) -> (2.4, 2.9) projected
  line L1 (4.5, 2.9) -> (6.7, 5.1)
  line L2 (6.7, 5.1) -> (6.7, 2.9) projected
  line L3 (6.7, 5.1) -> (6.7, 2.9)
  line L4 (4.5, 2.9) -> (6.7, 2.9)
  point P0 (1.6, 1.1)
  point P1 (2.405, 2.9)
  point P2 (4.395, 2.9)
  point P3 (4.4, 2.9)
extrude "Выдавливание11" cut sketch "Эскиз16" against normal up to surface (2.1 mm away)
sketch "Эскиз17" plane through (-1.5, 0, -2.2) normal (0, 0, -1) x (-1, 0, 0)
  line L0 (3.6, 4) -> (6, 4) projected
  line L1 (6, 4) -> (6, 6) projected
  line L2 (6, 6) -> (12, 6) projected
  line L3 (12, 6) -> (12, 4) projected
  line L4 (12, 4) -> (14.5, 4) projected
  line L5 (14.5, 4) -> (14.5, 6) projected
  line L6 (14.5, 6) -> (20.5, 6) projected
  line L7 (20.5, 6) -> (20.5, 4) projected
  line L8 (20.5, 4) -> (23, 4) projected
  line L9 (23, 4) -> (23, 6) projected
  line L10 (23, 6) -> (29, 6) projected
  line L11 (29, 6) -> (29, 4) projected
  line L12 (29, 4) -> (31.5, 4) projected
  line L13 (31.5, 4) -> (31.5, 6) projected
  line L14 (31.5, 6) -> (37.5, 6) projected
  line L15 (37.5, 6) -> (37.5, 4) projected
  line L16 (37.5, 4) -> (39.3, 4) projected
  line L17 (39.3, 4) -> (39.3, 6) projected
  line L18 (42.3, 6) -> (39.3, 6) projected
  line L19 (42.3, 6) -> (42.3, 7.4) projected
  line L20 (3.6, 7.4) -> (42.3, 7.4) projected
  line L21 (3.6, 6) -> (3.6, 7.4) projected
  line L22 (3.6, 4) -> (3.6, 6) projected
  line L23 (38.3, 0) -> (0, 0) projected
  line L24 (0, 0) -> (0, -1.6) projected
  line L25 (38.3, -1.6) -> (0, -1.6) projected
  line L26 (38.3, 0) -> (38.3, -1.6) projected
  line L27 (38.3, 0) -> (0, 0) projected
  line L28 (38.3, -1.6) -> (0, -1.6) projected
  line L29 (6, 0) -> (12, 0)
  line L30 (12, 0) -> (12, -1.6)
  line L31 (12, -1.6) -> (6, -1.6)
  line L32 (6, -1.6) -> (6, 0)
  line L33 (14.5, 0) -> (20.5, 0)
  line L34 (20.5, 0) -> (20.5, -1.6)
  line L35 (20.5, -1.6) -> (14.5, -1.6)
  line L36 (14.5, -1.6) -> (14.5, 0)
  line L37 (23, 6) -> (23, 0) projected
  line L38 (23, 0) -> (29, 0)
  line L39 (29, 0) -> (29, -1.6)
  line L40 (29, -1.6) -> (23, -1.6)
  line L41 (23, -1.6) -> (23, 0)
  line L42 (31.5, 6) -> (31.5, 0) projected
  line L43 (31.5, 0) -> (37.5, 0)
  line L44 (37.5, 0) -> (37.5, -1.6)
  line L45 (37.5, -1.6) -> (31.5, -1.6)
  line L46 (31.5, -1.6) -> (31.5, 0)
  point P0 (-1.5, 0)
  point P1 (37.5, -1.6)
  point P2 (14.5, -1.6)
  point P3 (6, -1.6)
extrude "Выдавливание12" cut sketch "Эскиз17" against normal up to surface (2.2 mm away) contours L23 L39 L25 L41 | L34 L25 L36 L23 | L23 L44 L25 L46 | L30 L25 L32 L23
ref_plane "РабПлоскость2" through (1.6, -1.1, -9.5) normal (0, 0, -1) x (-1, 0, 0)
mirror "Зеркальное отражение1" about plane through (1.6, -1.1, -9.5) normal (0, 0, -1) of "Выдавливание12", "Выдавливание11"
properties part number "Case_main"
